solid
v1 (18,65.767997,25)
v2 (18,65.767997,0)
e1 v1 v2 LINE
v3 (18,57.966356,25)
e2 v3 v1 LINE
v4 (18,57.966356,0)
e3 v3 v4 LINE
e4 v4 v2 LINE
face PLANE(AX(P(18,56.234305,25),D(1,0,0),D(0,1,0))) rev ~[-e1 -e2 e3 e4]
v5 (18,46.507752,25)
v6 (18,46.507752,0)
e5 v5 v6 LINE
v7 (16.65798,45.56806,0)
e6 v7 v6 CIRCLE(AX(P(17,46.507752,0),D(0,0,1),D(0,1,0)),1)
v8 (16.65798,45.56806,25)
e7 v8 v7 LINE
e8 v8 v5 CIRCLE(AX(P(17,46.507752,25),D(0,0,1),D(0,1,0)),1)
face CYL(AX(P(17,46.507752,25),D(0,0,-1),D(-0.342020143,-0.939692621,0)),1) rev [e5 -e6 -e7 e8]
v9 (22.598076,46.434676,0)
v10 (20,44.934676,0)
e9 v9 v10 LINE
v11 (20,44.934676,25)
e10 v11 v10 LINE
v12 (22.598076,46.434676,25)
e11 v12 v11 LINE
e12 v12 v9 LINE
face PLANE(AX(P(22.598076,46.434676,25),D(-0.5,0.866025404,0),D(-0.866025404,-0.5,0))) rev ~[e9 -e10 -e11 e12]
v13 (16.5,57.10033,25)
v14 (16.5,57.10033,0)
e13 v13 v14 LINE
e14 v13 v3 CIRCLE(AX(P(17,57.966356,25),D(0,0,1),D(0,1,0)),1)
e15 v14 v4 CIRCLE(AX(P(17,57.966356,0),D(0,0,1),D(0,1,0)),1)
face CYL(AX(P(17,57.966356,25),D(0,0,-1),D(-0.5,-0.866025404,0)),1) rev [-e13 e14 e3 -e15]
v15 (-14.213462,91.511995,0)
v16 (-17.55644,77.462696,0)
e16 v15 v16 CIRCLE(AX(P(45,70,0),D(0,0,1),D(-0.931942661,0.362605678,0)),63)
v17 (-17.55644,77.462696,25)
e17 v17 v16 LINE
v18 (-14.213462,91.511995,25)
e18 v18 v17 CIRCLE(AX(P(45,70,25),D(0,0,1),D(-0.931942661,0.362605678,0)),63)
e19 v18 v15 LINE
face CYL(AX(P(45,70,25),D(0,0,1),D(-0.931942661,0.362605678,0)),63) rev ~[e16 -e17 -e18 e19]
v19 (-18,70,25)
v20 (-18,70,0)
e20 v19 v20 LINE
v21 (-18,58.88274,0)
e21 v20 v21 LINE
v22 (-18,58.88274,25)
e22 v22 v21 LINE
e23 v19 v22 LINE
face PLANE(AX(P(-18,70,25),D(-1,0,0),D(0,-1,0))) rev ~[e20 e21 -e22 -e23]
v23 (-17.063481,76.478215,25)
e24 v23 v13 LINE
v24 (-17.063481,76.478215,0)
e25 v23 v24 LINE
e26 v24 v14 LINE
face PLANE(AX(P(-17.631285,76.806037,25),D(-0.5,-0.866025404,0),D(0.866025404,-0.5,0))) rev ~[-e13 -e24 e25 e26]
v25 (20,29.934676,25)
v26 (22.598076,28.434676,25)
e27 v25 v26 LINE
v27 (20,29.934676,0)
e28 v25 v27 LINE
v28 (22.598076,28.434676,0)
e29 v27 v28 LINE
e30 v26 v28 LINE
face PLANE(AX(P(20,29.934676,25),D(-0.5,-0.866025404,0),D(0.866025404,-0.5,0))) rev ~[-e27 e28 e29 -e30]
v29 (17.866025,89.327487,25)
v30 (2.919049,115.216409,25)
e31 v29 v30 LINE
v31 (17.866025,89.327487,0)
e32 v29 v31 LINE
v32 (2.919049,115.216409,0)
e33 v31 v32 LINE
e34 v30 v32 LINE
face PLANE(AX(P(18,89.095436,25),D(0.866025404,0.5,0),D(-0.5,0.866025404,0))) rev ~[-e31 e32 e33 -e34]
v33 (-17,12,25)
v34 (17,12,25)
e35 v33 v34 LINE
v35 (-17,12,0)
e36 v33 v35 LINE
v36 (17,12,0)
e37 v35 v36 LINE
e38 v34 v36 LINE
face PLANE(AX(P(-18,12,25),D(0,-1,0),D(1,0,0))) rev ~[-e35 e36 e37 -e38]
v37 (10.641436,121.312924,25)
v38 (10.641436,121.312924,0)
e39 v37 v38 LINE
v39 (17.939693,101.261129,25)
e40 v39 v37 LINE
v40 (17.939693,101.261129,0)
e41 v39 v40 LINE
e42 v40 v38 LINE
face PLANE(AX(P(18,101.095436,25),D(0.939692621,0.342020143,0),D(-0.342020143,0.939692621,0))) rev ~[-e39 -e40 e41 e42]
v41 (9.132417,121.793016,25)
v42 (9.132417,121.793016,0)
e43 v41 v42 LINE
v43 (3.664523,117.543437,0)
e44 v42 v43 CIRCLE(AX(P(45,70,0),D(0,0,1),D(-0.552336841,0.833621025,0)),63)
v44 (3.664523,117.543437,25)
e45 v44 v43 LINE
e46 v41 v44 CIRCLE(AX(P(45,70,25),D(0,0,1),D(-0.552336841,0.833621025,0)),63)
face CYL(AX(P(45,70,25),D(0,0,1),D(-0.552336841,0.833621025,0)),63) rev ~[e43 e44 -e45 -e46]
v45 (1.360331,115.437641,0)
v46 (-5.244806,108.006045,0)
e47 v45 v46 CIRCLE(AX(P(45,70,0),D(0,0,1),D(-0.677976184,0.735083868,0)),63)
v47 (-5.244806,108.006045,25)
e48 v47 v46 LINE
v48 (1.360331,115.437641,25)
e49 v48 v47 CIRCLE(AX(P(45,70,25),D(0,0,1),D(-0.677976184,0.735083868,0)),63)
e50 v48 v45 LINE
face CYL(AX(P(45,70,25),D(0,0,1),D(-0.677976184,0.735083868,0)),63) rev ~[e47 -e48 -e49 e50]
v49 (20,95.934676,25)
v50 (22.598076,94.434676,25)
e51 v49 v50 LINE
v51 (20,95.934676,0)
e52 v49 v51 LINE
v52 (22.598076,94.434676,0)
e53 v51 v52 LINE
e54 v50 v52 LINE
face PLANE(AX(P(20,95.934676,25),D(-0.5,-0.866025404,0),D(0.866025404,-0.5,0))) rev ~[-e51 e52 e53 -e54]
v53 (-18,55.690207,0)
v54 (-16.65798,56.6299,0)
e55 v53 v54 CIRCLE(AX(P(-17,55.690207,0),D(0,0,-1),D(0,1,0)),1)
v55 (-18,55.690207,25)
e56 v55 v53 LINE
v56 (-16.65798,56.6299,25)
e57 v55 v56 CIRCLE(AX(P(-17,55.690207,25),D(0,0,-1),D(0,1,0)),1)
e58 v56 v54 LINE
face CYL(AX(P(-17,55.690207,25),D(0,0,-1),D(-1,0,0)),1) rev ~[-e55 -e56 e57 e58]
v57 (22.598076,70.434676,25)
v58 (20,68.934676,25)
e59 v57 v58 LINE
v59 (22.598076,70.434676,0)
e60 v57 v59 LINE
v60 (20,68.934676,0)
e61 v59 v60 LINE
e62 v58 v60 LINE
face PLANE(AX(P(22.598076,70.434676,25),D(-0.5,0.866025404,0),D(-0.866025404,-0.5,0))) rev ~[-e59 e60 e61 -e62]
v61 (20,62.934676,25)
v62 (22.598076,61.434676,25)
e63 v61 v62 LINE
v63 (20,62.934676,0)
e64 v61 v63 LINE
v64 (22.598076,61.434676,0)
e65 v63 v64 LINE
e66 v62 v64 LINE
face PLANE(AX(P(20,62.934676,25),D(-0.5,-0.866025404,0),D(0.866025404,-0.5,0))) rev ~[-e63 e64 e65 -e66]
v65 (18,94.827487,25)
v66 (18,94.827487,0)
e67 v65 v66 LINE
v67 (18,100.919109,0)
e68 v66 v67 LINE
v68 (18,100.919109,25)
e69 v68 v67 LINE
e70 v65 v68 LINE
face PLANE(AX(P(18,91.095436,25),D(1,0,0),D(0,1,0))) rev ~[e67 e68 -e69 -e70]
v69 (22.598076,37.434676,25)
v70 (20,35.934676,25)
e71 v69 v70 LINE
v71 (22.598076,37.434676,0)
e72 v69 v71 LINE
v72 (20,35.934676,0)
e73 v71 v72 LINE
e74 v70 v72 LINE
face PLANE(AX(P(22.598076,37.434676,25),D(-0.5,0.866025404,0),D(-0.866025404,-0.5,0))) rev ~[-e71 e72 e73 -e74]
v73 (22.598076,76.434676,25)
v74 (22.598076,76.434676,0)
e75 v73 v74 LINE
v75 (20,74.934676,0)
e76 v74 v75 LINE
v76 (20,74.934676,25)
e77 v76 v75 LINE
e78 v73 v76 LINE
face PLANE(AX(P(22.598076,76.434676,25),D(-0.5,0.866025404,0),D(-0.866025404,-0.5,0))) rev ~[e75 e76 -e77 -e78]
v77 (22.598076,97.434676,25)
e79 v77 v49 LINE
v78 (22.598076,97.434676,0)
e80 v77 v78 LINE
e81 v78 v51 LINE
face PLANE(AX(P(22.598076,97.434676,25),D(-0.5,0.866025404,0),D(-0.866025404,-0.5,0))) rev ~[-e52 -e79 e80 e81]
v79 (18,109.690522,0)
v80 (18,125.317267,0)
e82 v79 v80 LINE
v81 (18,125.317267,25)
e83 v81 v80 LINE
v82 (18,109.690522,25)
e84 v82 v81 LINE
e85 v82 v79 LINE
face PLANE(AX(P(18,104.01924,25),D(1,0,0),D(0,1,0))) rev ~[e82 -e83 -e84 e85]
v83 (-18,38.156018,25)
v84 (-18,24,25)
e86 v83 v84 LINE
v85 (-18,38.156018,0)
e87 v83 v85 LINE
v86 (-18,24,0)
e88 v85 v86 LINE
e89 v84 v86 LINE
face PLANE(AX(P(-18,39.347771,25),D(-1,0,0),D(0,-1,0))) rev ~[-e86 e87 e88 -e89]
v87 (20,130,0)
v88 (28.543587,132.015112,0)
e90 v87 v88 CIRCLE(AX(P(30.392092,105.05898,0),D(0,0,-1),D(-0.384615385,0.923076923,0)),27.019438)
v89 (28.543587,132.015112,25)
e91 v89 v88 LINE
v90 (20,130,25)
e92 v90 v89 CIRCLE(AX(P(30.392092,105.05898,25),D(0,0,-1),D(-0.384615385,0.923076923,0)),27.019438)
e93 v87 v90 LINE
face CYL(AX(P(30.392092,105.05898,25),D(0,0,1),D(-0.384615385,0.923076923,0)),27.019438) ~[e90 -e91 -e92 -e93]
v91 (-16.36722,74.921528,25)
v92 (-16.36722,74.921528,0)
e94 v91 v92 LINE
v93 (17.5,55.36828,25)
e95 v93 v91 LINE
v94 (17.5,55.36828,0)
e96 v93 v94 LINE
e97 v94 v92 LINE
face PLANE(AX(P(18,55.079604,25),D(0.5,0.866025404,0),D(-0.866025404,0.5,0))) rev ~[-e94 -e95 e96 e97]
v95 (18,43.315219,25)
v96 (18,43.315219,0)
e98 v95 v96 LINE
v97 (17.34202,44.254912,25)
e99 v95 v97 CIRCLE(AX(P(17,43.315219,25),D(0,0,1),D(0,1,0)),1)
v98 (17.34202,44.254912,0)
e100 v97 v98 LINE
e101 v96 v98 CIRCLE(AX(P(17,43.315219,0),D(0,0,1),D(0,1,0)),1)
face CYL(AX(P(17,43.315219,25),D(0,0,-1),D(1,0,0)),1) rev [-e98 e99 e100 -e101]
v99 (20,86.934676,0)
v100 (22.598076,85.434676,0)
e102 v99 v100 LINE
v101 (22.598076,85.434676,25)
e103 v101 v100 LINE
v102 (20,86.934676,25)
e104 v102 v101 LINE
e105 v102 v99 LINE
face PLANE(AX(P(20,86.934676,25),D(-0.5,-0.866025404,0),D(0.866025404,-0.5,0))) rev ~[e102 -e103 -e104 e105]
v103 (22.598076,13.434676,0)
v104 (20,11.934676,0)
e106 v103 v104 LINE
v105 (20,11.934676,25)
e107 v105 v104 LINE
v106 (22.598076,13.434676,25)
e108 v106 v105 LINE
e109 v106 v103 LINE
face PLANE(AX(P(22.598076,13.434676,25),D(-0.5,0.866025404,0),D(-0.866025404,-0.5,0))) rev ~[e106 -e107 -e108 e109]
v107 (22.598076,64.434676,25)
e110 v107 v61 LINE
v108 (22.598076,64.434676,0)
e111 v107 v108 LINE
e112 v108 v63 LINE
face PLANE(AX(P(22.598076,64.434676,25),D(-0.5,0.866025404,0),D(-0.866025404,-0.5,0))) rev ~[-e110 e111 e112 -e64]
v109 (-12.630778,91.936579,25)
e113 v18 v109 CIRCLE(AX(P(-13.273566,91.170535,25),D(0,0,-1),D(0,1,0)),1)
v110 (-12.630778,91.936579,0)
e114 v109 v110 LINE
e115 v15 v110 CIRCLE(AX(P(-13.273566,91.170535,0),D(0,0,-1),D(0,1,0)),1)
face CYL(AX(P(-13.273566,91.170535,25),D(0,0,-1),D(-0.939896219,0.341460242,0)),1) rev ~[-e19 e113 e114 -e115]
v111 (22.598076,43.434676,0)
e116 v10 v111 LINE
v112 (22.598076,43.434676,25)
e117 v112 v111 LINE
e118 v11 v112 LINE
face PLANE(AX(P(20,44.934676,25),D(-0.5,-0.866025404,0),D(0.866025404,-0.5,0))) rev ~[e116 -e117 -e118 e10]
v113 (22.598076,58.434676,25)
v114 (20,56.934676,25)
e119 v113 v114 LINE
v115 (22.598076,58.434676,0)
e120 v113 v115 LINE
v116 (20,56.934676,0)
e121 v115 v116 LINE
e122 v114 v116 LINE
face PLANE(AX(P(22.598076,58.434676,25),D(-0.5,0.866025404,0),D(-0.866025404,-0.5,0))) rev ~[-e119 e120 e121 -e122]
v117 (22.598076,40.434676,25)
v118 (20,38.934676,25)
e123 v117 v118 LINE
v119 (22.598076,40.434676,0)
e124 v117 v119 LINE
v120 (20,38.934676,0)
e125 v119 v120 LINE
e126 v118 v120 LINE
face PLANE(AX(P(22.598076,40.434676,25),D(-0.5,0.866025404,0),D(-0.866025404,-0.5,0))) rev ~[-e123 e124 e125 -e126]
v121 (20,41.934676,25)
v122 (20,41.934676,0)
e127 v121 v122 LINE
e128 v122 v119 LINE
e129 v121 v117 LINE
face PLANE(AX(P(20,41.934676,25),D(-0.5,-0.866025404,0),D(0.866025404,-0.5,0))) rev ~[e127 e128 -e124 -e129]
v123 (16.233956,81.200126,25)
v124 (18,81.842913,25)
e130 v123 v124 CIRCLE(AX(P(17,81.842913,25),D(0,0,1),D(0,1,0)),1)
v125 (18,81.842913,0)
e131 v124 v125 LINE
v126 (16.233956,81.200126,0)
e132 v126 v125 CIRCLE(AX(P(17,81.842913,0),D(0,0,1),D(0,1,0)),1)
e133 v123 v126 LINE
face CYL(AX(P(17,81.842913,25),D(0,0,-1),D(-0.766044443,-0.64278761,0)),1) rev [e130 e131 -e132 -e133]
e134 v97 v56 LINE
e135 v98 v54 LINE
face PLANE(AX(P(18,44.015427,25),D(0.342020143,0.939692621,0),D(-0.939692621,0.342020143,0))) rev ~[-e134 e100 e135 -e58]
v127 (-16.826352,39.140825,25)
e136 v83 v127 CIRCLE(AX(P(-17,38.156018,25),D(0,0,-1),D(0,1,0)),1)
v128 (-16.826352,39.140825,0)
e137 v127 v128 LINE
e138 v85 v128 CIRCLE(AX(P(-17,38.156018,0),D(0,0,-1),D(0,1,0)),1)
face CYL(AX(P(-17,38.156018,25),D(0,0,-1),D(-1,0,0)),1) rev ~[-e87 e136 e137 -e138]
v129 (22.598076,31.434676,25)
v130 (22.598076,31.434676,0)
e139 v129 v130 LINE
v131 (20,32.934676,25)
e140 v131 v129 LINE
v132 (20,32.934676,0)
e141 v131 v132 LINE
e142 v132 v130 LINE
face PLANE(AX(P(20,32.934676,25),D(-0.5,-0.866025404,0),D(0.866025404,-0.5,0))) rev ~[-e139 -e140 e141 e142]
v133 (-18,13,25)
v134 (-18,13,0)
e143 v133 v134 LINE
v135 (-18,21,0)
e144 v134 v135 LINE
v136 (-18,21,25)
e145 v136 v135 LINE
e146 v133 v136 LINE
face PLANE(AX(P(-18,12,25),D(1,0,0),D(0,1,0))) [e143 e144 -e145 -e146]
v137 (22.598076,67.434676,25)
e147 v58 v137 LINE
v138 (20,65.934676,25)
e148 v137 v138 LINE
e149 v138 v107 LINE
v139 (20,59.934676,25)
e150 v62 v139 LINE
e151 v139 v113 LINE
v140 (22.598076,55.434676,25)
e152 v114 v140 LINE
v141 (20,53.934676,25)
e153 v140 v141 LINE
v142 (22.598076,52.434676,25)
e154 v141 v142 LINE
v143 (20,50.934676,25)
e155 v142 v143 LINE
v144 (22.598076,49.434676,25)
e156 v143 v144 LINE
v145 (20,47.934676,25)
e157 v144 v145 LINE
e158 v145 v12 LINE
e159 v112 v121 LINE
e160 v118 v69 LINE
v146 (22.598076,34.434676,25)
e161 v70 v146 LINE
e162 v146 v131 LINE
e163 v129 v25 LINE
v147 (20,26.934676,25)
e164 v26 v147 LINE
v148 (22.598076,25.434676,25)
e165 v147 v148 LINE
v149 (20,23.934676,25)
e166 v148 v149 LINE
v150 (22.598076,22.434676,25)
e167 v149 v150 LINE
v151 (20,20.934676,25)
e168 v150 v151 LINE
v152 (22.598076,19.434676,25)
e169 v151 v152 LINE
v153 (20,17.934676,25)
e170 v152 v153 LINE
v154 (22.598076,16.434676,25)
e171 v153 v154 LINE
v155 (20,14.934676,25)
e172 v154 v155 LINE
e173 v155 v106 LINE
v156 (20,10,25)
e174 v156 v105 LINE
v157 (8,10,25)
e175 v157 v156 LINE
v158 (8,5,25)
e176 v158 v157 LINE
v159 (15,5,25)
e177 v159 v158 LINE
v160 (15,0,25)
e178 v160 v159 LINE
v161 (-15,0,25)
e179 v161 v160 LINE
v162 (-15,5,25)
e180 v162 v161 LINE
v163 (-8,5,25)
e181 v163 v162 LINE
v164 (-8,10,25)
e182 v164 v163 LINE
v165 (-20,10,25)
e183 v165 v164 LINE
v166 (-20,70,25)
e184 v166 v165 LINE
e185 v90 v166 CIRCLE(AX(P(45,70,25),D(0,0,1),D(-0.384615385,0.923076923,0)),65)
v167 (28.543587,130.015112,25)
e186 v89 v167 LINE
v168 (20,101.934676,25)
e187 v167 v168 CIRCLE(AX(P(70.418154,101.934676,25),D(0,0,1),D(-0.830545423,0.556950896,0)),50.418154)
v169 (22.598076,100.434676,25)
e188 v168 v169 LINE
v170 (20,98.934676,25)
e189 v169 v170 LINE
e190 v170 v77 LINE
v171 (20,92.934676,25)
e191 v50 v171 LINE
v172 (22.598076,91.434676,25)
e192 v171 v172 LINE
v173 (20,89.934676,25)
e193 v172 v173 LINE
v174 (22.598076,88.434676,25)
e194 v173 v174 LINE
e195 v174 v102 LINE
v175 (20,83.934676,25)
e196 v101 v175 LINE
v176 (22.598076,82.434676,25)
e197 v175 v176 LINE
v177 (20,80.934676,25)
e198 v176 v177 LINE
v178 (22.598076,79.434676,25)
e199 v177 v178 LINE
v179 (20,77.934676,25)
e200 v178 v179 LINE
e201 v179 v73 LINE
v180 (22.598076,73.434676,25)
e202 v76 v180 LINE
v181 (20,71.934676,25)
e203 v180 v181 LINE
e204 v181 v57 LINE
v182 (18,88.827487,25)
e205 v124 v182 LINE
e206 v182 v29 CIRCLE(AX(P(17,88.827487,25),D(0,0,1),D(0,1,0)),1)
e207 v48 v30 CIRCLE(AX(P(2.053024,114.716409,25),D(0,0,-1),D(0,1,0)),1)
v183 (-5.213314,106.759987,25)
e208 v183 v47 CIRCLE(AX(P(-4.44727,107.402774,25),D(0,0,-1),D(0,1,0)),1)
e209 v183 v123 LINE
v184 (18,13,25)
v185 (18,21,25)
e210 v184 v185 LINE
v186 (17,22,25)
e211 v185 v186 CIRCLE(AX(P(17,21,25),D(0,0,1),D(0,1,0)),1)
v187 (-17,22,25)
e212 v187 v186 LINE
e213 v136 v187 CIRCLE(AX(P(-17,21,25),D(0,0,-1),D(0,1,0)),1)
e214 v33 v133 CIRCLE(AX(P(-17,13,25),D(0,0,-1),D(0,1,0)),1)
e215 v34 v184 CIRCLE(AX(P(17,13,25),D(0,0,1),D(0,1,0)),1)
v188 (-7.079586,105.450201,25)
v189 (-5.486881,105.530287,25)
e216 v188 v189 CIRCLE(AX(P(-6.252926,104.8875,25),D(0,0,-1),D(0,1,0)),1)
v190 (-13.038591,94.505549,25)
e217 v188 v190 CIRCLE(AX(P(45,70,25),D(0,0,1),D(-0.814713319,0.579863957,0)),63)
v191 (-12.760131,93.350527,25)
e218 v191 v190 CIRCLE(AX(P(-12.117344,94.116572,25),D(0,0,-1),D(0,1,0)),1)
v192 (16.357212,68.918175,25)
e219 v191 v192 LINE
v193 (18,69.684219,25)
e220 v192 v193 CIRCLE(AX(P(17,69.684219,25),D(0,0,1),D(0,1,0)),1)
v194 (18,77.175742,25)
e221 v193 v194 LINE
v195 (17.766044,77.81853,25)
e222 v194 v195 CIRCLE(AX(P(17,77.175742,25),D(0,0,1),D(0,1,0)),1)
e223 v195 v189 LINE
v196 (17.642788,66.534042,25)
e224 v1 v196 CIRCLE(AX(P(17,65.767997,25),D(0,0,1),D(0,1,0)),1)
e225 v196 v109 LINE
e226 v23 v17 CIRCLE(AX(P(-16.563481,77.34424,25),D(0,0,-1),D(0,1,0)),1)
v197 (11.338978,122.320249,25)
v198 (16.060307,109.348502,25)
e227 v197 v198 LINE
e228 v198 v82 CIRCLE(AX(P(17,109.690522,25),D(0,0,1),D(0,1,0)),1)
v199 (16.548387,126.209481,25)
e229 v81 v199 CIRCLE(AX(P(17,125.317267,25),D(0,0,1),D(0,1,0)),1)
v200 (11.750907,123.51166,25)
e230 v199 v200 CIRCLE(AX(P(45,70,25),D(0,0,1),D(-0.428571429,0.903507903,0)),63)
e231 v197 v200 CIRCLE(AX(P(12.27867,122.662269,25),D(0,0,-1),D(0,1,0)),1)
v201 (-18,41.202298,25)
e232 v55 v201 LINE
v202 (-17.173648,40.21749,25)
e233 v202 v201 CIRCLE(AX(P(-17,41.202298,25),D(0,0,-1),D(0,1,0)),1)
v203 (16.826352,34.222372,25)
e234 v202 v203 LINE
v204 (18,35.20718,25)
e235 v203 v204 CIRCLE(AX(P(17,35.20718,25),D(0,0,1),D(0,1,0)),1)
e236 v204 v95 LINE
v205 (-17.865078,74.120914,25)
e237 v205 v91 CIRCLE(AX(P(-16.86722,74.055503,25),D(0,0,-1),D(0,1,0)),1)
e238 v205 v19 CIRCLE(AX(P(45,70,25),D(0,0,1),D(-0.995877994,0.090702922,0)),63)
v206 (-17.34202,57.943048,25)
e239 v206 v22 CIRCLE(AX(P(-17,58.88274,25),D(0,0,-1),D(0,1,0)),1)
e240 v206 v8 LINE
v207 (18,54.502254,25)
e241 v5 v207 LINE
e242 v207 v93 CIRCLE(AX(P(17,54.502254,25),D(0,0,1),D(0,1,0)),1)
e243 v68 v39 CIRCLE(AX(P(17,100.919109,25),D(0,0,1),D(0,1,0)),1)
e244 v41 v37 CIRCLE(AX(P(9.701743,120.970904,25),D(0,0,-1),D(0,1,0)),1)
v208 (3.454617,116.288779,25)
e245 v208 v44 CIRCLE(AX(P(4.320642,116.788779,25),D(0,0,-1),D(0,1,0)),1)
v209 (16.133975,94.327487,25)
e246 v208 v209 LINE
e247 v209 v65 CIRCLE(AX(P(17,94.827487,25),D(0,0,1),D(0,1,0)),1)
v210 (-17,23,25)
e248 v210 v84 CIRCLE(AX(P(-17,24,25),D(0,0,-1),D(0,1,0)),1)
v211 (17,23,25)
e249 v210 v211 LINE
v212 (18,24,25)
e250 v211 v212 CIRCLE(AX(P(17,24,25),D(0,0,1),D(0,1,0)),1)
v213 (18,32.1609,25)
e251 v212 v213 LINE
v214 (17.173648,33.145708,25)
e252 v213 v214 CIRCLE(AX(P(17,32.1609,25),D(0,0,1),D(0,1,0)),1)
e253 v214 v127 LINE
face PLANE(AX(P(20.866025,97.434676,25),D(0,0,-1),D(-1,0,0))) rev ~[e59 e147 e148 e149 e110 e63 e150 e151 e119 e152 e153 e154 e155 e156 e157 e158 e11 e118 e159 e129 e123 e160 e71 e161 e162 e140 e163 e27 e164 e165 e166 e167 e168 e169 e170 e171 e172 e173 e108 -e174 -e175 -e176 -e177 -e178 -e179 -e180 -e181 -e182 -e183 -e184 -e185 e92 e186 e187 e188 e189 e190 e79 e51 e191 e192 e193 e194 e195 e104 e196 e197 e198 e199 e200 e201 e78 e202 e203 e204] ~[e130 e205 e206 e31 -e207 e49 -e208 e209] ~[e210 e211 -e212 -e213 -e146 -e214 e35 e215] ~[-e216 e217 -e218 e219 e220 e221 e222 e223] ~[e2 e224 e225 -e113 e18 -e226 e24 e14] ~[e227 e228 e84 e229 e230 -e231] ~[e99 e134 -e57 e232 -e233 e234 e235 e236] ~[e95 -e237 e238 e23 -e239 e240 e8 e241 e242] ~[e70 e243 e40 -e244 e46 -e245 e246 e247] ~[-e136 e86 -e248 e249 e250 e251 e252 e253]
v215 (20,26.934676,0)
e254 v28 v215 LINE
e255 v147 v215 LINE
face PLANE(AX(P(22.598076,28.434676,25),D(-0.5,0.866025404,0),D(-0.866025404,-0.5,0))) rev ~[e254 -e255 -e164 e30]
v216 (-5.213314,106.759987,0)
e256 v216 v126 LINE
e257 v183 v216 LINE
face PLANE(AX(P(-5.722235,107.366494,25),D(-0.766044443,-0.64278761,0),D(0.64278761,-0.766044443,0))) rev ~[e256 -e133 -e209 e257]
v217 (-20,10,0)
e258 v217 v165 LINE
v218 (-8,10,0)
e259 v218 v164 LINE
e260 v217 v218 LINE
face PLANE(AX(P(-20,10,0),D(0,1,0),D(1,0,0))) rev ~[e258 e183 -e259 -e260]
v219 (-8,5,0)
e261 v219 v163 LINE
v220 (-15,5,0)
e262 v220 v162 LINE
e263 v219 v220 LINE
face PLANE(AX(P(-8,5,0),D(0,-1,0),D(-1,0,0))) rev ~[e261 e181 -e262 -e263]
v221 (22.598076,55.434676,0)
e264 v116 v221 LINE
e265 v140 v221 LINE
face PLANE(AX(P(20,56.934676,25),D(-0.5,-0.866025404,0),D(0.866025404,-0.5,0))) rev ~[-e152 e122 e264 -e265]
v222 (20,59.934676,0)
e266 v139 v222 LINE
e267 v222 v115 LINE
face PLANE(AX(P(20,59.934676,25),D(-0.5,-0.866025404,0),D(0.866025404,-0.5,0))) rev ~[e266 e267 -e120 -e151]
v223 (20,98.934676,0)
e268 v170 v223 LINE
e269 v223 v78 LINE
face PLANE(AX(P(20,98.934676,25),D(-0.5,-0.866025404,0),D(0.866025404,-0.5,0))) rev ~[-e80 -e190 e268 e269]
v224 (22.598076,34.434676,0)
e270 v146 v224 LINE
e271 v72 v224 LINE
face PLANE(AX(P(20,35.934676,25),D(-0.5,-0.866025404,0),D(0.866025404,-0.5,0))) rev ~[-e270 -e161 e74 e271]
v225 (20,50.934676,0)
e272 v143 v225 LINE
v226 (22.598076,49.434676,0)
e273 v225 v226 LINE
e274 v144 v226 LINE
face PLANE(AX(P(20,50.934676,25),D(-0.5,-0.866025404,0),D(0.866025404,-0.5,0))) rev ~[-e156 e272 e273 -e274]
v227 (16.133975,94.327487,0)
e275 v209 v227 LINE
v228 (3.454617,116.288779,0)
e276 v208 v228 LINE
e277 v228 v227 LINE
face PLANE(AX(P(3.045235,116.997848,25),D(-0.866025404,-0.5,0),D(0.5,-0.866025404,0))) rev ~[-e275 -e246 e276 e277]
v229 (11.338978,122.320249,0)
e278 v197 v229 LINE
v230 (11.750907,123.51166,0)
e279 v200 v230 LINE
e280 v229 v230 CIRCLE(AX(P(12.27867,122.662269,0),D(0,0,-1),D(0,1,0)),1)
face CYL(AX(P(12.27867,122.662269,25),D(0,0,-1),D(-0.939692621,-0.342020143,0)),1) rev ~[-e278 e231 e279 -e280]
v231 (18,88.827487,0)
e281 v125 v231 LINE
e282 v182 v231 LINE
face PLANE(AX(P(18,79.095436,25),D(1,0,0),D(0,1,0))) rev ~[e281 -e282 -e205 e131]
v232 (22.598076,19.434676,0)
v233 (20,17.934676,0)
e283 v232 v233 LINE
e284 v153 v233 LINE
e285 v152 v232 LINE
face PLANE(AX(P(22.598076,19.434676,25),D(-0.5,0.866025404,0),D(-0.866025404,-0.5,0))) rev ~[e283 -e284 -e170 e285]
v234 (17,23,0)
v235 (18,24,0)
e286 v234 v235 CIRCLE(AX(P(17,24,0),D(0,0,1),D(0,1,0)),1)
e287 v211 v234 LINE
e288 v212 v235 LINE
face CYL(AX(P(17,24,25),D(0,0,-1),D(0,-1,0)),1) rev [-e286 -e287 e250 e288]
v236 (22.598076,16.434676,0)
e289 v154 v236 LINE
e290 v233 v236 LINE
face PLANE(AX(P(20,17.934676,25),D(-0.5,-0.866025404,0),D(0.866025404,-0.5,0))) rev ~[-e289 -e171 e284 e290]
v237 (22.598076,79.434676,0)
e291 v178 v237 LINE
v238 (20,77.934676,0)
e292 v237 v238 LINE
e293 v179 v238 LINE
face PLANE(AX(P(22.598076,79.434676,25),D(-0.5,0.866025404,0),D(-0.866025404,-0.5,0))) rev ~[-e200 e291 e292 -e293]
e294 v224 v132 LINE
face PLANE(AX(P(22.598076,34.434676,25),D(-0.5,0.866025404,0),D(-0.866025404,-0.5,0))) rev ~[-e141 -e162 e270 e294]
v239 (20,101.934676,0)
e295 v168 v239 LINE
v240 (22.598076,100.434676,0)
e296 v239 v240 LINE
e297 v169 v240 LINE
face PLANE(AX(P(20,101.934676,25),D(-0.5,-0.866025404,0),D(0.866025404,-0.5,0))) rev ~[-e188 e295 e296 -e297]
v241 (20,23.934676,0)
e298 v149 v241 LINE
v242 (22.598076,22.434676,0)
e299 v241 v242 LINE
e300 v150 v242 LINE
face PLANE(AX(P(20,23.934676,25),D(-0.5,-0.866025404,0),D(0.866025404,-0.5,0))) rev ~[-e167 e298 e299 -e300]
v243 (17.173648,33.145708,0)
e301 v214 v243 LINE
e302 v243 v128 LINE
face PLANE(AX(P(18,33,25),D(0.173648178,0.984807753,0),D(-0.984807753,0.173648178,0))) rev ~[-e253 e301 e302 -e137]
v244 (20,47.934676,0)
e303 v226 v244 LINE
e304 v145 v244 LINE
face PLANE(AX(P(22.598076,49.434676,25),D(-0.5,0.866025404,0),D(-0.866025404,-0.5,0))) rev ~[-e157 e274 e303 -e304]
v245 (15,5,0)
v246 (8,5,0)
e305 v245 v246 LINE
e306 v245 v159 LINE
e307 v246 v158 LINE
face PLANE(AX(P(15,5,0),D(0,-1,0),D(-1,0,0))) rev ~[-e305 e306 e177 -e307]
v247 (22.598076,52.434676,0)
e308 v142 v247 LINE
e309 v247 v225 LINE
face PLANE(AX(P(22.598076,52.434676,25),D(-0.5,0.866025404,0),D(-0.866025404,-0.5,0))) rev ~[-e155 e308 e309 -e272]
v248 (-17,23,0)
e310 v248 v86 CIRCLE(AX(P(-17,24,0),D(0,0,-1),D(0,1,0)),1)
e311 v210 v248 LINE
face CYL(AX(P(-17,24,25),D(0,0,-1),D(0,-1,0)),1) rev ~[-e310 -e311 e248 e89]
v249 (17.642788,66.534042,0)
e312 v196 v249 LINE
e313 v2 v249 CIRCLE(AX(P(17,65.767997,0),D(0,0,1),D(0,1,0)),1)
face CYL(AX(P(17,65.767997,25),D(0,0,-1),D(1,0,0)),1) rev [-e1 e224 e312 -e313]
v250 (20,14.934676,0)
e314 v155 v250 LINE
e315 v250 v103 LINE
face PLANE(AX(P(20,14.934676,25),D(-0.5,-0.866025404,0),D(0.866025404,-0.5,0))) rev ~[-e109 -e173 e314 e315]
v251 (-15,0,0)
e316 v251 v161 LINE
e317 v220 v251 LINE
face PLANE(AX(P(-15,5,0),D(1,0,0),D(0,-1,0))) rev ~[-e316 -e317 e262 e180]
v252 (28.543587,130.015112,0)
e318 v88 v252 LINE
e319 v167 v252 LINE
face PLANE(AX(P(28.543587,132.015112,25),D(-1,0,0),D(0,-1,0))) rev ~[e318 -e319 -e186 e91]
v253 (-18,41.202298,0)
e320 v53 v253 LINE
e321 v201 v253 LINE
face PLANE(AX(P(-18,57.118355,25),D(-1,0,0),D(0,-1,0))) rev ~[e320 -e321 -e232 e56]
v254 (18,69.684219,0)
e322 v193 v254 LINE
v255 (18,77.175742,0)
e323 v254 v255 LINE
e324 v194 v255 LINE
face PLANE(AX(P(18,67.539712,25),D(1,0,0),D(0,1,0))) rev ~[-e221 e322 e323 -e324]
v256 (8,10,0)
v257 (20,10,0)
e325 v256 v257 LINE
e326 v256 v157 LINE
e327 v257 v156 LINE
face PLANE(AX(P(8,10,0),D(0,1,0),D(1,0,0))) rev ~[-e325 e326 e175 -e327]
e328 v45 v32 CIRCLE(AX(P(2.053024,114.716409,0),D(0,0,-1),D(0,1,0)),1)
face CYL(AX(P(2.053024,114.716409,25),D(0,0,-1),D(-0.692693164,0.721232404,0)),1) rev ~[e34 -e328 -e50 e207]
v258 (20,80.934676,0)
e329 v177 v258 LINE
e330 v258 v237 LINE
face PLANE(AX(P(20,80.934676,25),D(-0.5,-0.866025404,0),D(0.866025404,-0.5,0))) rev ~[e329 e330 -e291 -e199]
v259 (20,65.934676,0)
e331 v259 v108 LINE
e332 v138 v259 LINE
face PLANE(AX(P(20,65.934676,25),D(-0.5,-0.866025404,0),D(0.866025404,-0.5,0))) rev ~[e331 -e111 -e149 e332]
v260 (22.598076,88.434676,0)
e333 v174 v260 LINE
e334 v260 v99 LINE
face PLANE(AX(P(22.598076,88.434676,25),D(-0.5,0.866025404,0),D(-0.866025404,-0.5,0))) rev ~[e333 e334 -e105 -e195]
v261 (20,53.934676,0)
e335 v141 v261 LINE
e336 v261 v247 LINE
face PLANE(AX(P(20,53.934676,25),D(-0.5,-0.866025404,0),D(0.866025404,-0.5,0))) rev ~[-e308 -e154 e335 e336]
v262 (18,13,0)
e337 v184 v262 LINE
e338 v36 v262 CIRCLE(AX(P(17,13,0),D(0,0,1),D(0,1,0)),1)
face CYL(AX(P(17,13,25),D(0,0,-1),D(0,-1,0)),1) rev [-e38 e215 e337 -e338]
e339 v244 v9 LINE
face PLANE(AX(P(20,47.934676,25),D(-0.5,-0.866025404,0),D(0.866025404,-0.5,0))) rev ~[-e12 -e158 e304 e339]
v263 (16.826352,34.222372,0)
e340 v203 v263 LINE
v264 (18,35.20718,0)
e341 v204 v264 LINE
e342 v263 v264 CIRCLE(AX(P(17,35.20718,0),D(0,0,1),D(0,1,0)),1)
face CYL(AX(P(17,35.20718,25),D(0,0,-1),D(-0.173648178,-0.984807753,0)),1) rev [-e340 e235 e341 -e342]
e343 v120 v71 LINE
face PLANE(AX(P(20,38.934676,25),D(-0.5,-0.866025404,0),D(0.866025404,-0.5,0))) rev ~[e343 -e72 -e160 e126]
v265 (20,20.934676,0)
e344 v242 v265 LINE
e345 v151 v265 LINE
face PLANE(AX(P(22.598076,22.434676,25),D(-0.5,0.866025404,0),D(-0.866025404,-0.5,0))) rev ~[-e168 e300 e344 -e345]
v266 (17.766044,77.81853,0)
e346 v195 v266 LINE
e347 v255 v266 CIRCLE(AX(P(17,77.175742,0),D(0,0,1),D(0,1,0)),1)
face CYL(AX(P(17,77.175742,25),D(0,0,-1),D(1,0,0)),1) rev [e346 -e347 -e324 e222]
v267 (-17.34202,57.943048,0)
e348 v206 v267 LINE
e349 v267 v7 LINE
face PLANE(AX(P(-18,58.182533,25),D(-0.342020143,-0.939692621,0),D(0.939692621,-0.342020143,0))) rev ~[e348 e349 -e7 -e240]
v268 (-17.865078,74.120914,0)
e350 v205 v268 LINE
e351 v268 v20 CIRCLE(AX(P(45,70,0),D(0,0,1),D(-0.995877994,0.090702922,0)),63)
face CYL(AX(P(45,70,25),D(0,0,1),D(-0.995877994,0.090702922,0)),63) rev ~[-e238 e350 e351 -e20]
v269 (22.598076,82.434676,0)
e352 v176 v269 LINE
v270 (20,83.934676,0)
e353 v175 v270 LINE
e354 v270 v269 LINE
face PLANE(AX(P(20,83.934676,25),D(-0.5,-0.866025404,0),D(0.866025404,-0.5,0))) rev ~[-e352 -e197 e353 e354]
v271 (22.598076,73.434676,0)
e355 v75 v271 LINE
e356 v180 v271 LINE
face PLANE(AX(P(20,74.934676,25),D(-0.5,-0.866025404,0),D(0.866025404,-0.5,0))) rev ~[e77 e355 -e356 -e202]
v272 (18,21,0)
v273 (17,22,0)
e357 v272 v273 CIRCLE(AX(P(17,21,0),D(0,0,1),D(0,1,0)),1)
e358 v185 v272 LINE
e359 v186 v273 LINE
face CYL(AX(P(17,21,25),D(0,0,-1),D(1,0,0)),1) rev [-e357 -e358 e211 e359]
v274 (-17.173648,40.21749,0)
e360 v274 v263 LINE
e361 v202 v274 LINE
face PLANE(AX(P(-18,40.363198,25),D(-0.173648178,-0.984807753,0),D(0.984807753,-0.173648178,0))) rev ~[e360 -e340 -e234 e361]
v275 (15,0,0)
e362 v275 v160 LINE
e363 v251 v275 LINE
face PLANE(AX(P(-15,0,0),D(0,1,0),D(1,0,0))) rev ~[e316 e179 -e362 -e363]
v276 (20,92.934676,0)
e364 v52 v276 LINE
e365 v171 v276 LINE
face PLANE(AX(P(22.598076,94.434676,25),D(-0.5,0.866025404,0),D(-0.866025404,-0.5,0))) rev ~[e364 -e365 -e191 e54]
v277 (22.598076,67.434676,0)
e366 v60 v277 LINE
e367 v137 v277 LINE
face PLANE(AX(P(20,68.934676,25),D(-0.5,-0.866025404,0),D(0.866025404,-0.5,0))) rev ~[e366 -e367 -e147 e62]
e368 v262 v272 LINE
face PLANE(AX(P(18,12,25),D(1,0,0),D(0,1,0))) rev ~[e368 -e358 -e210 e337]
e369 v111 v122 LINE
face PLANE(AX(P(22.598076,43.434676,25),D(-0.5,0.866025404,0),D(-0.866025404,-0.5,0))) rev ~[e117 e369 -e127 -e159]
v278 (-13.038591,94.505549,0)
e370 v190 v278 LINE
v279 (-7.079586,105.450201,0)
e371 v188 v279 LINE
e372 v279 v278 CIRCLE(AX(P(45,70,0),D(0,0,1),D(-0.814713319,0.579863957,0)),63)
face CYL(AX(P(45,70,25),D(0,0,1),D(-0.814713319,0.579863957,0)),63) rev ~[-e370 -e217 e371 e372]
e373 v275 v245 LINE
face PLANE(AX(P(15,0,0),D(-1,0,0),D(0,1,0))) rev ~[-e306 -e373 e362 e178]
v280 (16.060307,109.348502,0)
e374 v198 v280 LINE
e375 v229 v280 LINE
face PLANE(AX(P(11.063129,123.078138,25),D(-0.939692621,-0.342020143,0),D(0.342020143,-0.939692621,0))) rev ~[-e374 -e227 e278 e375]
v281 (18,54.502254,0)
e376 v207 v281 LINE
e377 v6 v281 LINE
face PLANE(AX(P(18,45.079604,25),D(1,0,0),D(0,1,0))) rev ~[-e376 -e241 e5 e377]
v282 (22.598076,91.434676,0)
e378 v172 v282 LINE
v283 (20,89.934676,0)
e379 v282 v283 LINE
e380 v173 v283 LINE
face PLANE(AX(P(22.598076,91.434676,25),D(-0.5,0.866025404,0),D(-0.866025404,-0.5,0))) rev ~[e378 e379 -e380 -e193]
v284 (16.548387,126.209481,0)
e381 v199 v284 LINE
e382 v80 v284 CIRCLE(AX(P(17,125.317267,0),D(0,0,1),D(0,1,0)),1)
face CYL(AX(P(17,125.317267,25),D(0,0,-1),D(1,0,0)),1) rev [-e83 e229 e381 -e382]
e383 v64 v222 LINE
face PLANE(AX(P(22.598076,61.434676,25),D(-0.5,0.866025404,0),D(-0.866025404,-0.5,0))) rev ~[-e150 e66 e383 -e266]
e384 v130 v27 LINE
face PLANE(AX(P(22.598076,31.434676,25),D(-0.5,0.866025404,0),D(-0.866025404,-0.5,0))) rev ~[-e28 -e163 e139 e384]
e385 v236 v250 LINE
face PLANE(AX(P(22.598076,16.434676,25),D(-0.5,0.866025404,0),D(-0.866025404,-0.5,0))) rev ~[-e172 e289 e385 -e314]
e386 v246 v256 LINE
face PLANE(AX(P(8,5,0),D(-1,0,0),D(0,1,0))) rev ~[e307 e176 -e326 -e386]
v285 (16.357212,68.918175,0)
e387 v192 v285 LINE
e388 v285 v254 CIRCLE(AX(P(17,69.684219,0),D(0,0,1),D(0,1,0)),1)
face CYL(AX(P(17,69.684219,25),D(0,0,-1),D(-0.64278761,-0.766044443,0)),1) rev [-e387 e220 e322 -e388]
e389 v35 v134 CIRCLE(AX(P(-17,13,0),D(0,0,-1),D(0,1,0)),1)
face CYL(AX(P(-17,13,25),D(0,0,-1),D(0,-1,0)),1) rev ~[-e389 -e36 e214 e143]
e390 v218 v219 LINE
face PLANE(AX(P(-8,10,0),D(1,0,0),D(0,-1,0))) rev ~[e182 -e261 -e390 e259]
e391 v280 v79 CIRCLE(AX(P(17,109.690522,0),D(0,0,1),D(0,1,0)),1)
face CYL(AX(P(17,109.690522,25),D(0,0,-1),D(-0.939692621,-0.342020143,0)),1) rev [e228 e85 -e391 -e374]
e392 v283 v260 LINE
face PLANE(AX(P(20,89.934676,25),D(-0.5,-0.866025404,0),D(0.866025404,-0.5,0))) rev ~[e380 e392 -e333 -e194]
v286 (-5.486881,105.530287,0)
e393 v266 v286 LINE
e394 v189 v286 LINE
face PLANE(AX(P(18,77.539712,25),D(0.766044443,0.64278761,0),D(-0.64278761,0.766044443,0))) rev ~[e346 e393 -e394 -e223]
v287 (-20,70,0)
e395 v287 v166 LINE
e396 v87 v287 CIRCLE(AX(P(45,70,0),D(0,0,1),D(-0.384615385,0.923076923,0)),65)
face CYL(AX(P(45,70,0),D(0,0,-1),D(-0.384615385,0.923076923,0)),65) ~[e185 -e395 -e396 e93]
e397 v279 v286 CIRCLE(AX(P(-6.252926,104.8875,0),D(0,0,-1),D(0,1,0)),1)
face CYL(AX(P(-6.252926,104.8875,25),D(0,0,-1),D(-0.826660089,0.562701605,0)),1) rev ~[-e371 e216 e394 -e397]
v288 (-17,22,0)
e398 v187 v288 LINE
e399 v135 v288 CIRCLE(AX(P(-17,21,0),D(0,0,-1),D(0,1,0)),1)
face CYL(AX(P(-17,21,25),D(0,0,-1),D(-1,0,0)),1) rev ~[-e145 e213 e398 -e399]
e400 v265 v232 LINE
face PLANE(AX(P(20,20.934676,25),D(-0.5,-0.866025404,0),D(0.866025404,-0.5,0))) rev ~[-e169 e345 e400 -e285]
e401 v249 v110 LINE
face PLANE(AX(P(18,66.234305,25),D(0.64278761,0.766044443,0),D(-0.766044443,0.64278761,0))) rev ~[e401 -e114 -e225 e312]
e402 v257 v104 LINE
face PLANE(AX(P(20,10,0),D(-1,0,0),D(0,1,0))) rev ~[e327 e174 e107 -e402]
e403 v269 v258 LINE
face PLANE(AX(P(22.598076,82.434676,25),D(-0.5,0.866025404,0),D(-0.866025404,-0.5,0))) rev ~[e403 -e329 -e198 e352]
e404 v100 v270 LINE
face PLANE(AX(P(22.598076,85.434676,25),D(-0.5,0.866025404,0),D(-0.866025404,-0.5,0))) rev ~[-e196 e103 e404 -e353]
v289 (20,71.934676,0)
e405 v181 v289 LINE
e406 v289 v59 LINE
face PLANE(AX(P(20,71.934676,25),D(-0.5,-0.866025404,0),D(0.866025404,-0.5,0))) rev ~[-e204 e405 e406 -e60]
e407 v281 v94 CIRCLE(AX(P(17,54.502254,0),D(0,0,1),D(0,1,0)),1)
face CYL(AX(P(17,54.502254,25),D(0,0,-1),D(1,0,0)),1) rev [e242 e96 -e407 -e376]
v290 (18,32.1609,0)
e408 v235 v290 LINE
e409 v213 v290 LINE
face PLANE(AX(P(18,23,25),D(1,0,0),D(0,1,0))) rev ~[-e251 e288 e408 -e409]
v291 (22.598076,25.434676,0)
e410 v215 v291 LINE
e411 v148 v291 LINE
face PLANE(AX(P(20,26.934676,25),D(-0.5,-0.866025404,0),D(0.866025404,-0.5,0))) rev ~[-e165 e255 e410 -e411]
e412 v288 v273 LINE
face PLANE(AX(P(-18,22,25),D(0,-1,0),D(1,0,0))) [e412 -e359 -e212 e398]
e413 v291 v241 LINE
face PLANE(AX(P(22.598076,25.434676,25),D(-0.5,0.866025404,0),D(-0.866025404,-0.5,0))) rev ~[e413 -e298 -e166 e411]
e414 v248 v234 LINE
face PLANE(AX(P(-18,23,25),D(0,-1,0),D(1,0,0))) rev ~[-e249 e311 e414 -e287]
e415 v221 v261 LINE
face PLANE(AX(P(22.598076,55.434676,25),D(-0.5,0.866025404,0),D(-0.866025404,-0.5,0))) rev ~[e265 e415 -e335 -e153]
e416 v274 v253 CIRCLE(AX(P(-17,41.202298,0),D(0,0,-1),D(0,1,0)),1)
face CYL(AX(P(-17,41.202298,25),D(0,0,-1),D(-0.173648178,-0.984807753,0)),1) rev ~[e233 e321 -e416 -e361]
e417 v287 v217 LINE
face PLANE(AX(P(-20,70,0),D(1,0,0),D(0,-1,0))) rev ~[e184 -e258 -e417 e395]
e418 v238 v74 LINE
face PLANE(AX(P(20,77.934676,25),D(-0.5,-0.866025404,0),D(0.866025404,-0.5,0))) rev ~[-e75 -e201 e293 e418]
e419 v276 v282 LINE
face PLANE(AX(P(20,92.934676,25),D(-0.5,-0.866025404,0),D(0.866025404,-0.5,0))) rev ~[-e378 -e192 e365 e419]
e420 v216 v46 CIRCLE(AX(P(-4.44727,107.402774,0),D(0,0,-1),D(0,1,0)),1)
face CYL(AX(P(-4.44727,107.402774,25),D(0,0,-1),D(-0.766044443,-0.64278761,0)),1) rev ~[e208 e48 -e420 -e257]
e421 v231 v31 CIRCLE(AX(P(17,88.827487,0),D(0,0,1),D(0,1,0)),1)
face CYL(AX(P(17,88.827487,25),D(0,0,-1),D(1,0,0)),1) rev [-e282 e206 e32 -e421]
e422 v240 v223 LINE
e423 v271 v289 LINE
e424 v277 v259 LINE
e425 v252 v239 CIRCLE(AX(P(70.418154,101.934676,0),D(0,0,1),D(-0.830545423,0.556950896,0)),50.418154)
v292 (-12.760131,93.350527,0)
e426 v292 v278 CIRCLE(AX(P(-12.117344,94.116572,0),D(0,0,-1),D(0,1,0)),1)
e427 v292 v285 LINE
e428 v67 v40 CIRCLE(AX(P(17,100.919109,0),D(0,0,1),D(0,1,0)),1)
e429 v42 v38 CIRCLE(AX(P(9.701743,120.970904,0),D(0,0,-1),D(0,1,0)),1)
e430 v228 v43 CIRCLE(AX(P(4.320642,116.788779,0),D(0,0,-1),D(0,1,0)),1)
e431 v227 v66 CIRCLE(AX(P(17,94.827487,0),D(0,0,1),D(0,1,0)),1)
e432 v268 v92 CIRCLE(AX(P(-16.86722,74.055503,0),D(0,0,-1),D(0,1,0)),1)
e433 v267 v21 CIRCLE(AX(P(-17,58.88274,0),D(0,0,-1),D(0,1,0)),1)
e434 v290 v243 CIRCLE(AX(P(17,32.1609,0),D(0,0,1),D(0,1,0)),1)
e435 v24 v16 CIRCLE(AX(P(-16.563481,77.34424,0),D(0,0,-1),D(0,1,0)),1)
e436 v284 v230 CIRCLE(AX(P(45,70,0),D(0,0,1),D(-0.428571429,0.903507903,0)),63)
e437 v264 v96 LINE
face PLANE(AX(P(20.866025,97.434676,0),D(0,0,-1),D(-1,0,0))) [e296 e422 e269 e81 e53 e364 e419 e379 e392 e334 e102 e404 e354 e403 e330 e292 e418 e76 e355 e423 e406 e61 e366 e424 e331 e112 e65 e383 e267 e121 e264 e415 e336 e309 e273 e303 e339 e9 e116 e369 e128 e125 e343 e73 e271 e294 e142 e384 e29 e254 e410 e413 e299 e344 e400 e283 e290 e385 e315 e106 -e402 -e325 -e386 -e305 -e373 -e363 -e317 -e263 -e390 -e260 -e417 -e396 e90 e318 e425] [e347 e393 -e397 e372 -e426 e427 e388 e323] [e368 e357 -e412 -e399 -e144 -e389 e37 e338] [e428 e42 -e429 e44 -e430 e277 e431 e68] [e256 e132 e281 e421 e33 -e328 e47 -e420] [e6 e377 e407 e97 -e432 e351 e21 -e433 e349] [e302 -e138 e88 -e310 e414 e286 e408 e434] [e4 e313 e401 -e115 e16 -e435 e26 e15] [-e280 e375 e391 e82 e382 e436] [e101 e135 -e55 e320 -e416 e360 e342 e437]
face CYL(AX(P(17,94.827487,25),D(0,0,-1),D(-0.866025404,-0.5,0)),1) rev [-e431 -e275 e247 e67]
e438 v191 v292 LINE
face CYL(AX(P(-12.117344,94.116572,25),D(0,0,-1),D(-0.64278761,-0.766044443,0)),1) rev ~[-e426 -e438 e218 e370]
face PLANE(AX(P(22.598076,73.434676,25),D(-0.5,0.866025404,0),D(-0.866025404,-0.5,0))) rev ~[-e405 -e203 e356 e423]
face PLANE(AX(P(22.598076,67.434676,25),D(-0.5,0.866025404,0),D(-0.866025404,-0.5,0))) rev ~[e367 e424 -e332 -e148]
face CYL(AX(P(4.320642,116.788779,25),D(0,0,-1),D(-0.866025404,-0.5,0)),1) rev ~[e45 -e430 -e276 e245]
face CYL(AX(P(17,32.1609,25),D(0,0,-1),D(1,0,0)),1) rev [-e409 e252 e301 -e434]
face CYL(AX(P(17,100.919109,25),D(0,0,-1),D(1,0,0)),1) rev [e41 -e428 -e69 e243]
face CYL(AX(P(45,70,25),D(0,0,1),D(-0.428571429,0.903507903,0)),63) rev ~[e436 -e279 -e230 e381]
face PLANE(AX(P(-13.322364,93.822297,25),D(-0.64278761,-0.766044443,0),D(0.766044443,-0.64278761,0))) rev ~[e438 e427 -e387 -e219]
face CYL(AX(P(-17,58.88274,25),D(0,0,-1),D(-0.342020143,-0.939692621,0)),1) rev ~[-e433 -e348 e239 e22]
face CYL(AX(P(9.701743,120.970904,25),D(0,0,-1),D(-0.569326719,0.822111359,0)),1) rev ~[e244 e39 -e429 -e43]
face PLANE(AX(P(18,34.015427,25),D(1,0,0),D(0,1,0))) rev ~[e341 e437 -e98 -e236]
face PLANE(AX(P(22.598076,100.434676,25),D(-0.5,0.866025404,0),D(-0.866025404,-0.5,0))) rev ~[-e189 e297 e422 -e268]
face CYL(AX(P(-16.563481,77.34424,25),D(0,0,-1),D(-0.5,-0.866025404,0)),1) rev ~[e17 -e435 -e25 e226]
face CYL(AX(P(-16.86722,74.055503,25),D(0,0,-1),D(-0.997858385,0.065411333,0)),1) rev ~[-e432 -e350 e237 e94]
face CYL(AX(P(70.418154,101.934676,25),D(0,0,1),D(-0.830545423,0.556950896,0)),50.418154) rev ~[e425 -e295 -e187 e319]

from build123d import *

# Parameters (mm, degrees)
BOSS_EXTRUDE1_DEPTH = 25
SKETCH3_W           = 36
SKETCH3_H           = 10
CUT_EXTRUDE1_DEPTH  = 134.88427839
CUT_EXTRUDE2_DEPTH  = 134.88427839
CUT_EXTRUDE3_DEPTH  = 134.88427839
CUT_EXTRUDE4_DEPTH  = 134.88427839
CUT_EXTRUDE5_DEPTH  = 134.88427839
CUT_EXTRUDE6_DEPTH  = 134.88427839
CUT_EXTRUDE7_DEPTH  = 134.88427839
CUT_EXTRUDE8_DEPTH  = 134.88427839
CUT_EXTRUDE9_DEPTH  = 134.88427839
FILLET1_R           = 1
BOSS_EXTRUDE2_DEPTH = 25
BOSS_EXTRUDE3_DEPTH = 25
LPATTERN1_COUNT     = 30
LPATTERN1_PITCH     = 3


with BuildPart() as part:
    # Sketch2 → Boss-Extrude1 (new body)
    with BuildSketch(Plane.XY):
        with BuildLine():
            Line((-15, 0), (15, 0))
            Line((15, 0), (15, 5))
            Line((15, 5), (8, 5))
            Line((8, 5), (8, 10))
            Line((8, 10), (20, 10))
            Line((20, 10), (20, 130))
            ThreePointArc((20, 130), (-9.083269132, 106.055512755), (-20, 70))
            Line((-20, 70), (-20, 10))
            Line((-20, 10), (-8, 10))
            Line((-8, 10), (-8, 5))
            Line((-8, 5), (-15, 5))
            Line((-15, 5), (-15, 0))
        make_face()
    extrude(amount=BOSS_EXTRUDE1_DEPTH)

    # Sketch3 → Cut-Extrude1 (cut, through all)
    with BuildSketch(Plane.XY.offset(25)):
        with Locations((0, 17)):
            Rectangle(SKETCH3_W, SKETCH3_H)
    extrude(amount=-CUT_EXTRUDE1_DEPTH, mode=Mode.SUBTRACT)

    # Sketch4 → Cut-Extrude2 (cut, through all)
    with BuildSketch(Plane.XY.offset(25)):
        Polygon((-18, 23), (18, 23), (18, 33), (-18, 39.347771306), align=None)
    extrude(amount=-CUT_EXTRUDE2_DEPTH, mode=Mode.SUBTRACT)

    # Sketch5 → Cut-Extrude3 (cut, through all)
    with BuildSketch(Plane.XY.offset(25)):
        Polygon((-18, 40.363197917), (18, 34.015426612), (18, 44.015426612), (-18, 57.118355045), align=None)
    extrude(amount=-CUT_EXTRUDE3_DEPTH, mode=Mode.SUBTRACT)

    # Sketch6 → Cut-Extrude4 (cut, through all)
    with BuildSketch(Plane.XY.offset(25)):
        with BuildLine():
            Line((-18, 58.182532818), (18, 45.079604384))
            Line((18, 45.079604384), (18, 55.079604384))
            Line((18, 55.079604384), (-17.740313653, 75.714284093))
            ThreePointArc((-17.740313653, 75.714284093), (-17.935044928, 72.860090894), (-18, 70))
            Line((-18, 70), (-18, 58.182532818))
        make_face()
    extrude(amount=-CUT_EXTRUDE4_DEPTH, mode=Mode.SUBTRACT)

    # Sketch12 → Cut-Extrude5 (cut, through all)
    with BuildSketch(Plane.XY.offset(25)):
        with BuildLine():
            Line((-17.631285006, 76.806036913), (18, 56.234304923))
            Line((18, 56.234304923), (18, 66.234304923))
            Line((18, 66.234304923), (-13.712387619, 92.844157678))
            ThreePointArc((-13.712387619, 92.844157678), (-16.199485709, 84.954027852), (-17.631285006, 76.806036913))
        make_face()
    extrude(amount=-CUT_EXTRUDE5_DEPTH, mode=Mode.SUBTRACT)

    # Sketch7 → Cut-Extrude6 (cut, through all)
    with BuildSketch(Plane.XY.offset(25)):
        with BuildLine():
            Line((-13.322364363, 93.822296597), (18, 67.539712212))
            Line((18, 67.539712212), (18, 77.539712212))
            Line((18, 77.539712212), (-6.326939086, 106.531429264))
            ThreePointArc((-6.326939086, 106.531429264), (-10.191692762, 100.378891521), (-13.322364363, 93.822296597))
        make_face()
    extrude(amount=-CUT_EXTRUDE6_DEPTH, mode=Mode.SUBTRACT)

    # Sketch8 → Cut-Extrude7 (cut, through all)
    with BuildSketch(Plane.XY.offset(25)):
        with BuildLine():
            Line((-5.722234691, 107.366494456), (18, 79.095436039))
            Line((18, 79.095436039), (18, 89.095436039))
            Line((18, 89.095436039), (2.287500379, 116.310283697))
            ThreePointArc((2.287500379, 116.310283697), (-1.93090917, 112.029629602), (-5.722234691, 107.366494456))
        make_face()
    extrude(amount=-CUT_EXTRUDE7_DEPTH, mode=Mode.SUBTRACT)

    # Sketch9 → Cut-Extrude8 (cut, through all)
    with BuildSketch(Plane.XY.offset(25)):
        with BuildLine():
            Line((3.04523541, 116.997848123), (18, 91.095436039))
            Line((18, 91.095436039), (18, 101.095436039))
            Line((18, 101.095436039), (10.202779023, 122.518124607))
            ThreePointArc((10.202779023, 122.518124607), (6.524875761, 119.886519369), (3.04523541, 116.997848123))
        make_face()
    extrude(amount=-CUT_EXTRUDE8_DEPTH, mode=Mode.SUBTRACT)

    # Sketch10 → Cut-Extrude9 (cut, through all)
    with BuildSketch(Plane.XY.offset(25)):
        with BuildLine():
            Line((11.063128519, 123.078138194), (18, 104.019240439))
            Line((18, 104.019240439), (18, 126.920997883))
            ThreePointArc((18, 126.920997883), (14.471038847, 125.108824438), (11.063128519, 123.078138194))
        make_face()
    extrude(amount=-CUT_EXTRUDE9_DEPTH, mode=Mode.SUBTRACT)

    # Fillet1
    fillet1_edges = [part.edges().sort_by_distance(p)[0] for p in [
        (-17.631285006, 76.806036913, 12.5),
        (-13.712387619, 92.844157678, 12.5),
        (18, 66.234304923, 12.5),
        (18, 56.234304923, 12.5),
        (-13.322364363, 93.822296597, 12.5),
        (-6.326939086, 106.531429264, 12.5),
        (18, 77.539712212, 12.5),
        (18, 67.539712212, 12.5),
        (-5.722234691, 107.366494456, 12.5),
        (2.287500379, 116.310283697, 12.5),
        (18, 89.095436039, 12.5),
        (18, 79.095436039, 12.5),
        (3.04523541, 116.997848123, 12.5),
        (10.202779023, 122.518124607, 12.5),
        (18, 101.095436039, 12.5),
        (18, 91.095436039, 12.5),
        (11.063128519, 123.078138194, 12.5),
        (18, 126.920997883, 12.5),
        (18, 104.019240439, 12.5),
        (-18, 12, 12.5),
        (-18, 22, 12.5),
        (18, 22, 12.5),
        (18, 12, 12.5),
        (-18, 23, 12.5),
        (-18, 39.347771306, 12.5),
        (18, 33, 12.5),
        (18, 23, 12.5),
        (-18, 40.363197917, 12.5),
        (-18, 57.118355045, 12.5),
        (18, 44.015426612, 12.5),
        (18, 34.015426612, 12.5),
        (-18, 58.182532818, 12.5),
        (-17.740313653, 75.714284093, 12.5),
        (18, 55.079604384, 12.5),
        (18, 45.079604384, 12.5),
    ]]
    fillet(fillet1_edges, radius=FILLET1_R)

    # Sketch13 → Boss-Extrude2 (add)
    with BuildSketch(Plane.XY.offset(25)):
        with BuildLine():
            Line((28.543587015, 132.015112463), (28.543587015, 130.015112463))
            ThreePointArc((28.543587015, 130.015112463), (22.183163486, 116.610368534), (20, 101.934676234))
            Line((20, 101.934676234), (20, 130))
            ThreePointArc((20, 130), (24.189413282, 131.356828362), (28.543587015, 132.015112463))
        make_face()
    extrude(amount=-BOSS_EXTRUDE2_DEPTH)

    # Sketch15 → Boss-Extrude3 (add)
    with BuildSketch(Plane.XY.offset(25)):
        Polygon((20, 101.934676234), (22.598076211, 100.434676234), (20, 98.934676234), align=None)
    boss_extrude3 = extrude(amount=-BOSS_EXTRUDE3_DEPTH)

    # LPattern1: Boss-Extrude3 ×30
    with Locations(*[(0, -i * LPATTERN1_PITCH, 0) for i in range(1, LPATTERN1_COUNT)]):
        add(boss_extrude3)


solid = part.part
